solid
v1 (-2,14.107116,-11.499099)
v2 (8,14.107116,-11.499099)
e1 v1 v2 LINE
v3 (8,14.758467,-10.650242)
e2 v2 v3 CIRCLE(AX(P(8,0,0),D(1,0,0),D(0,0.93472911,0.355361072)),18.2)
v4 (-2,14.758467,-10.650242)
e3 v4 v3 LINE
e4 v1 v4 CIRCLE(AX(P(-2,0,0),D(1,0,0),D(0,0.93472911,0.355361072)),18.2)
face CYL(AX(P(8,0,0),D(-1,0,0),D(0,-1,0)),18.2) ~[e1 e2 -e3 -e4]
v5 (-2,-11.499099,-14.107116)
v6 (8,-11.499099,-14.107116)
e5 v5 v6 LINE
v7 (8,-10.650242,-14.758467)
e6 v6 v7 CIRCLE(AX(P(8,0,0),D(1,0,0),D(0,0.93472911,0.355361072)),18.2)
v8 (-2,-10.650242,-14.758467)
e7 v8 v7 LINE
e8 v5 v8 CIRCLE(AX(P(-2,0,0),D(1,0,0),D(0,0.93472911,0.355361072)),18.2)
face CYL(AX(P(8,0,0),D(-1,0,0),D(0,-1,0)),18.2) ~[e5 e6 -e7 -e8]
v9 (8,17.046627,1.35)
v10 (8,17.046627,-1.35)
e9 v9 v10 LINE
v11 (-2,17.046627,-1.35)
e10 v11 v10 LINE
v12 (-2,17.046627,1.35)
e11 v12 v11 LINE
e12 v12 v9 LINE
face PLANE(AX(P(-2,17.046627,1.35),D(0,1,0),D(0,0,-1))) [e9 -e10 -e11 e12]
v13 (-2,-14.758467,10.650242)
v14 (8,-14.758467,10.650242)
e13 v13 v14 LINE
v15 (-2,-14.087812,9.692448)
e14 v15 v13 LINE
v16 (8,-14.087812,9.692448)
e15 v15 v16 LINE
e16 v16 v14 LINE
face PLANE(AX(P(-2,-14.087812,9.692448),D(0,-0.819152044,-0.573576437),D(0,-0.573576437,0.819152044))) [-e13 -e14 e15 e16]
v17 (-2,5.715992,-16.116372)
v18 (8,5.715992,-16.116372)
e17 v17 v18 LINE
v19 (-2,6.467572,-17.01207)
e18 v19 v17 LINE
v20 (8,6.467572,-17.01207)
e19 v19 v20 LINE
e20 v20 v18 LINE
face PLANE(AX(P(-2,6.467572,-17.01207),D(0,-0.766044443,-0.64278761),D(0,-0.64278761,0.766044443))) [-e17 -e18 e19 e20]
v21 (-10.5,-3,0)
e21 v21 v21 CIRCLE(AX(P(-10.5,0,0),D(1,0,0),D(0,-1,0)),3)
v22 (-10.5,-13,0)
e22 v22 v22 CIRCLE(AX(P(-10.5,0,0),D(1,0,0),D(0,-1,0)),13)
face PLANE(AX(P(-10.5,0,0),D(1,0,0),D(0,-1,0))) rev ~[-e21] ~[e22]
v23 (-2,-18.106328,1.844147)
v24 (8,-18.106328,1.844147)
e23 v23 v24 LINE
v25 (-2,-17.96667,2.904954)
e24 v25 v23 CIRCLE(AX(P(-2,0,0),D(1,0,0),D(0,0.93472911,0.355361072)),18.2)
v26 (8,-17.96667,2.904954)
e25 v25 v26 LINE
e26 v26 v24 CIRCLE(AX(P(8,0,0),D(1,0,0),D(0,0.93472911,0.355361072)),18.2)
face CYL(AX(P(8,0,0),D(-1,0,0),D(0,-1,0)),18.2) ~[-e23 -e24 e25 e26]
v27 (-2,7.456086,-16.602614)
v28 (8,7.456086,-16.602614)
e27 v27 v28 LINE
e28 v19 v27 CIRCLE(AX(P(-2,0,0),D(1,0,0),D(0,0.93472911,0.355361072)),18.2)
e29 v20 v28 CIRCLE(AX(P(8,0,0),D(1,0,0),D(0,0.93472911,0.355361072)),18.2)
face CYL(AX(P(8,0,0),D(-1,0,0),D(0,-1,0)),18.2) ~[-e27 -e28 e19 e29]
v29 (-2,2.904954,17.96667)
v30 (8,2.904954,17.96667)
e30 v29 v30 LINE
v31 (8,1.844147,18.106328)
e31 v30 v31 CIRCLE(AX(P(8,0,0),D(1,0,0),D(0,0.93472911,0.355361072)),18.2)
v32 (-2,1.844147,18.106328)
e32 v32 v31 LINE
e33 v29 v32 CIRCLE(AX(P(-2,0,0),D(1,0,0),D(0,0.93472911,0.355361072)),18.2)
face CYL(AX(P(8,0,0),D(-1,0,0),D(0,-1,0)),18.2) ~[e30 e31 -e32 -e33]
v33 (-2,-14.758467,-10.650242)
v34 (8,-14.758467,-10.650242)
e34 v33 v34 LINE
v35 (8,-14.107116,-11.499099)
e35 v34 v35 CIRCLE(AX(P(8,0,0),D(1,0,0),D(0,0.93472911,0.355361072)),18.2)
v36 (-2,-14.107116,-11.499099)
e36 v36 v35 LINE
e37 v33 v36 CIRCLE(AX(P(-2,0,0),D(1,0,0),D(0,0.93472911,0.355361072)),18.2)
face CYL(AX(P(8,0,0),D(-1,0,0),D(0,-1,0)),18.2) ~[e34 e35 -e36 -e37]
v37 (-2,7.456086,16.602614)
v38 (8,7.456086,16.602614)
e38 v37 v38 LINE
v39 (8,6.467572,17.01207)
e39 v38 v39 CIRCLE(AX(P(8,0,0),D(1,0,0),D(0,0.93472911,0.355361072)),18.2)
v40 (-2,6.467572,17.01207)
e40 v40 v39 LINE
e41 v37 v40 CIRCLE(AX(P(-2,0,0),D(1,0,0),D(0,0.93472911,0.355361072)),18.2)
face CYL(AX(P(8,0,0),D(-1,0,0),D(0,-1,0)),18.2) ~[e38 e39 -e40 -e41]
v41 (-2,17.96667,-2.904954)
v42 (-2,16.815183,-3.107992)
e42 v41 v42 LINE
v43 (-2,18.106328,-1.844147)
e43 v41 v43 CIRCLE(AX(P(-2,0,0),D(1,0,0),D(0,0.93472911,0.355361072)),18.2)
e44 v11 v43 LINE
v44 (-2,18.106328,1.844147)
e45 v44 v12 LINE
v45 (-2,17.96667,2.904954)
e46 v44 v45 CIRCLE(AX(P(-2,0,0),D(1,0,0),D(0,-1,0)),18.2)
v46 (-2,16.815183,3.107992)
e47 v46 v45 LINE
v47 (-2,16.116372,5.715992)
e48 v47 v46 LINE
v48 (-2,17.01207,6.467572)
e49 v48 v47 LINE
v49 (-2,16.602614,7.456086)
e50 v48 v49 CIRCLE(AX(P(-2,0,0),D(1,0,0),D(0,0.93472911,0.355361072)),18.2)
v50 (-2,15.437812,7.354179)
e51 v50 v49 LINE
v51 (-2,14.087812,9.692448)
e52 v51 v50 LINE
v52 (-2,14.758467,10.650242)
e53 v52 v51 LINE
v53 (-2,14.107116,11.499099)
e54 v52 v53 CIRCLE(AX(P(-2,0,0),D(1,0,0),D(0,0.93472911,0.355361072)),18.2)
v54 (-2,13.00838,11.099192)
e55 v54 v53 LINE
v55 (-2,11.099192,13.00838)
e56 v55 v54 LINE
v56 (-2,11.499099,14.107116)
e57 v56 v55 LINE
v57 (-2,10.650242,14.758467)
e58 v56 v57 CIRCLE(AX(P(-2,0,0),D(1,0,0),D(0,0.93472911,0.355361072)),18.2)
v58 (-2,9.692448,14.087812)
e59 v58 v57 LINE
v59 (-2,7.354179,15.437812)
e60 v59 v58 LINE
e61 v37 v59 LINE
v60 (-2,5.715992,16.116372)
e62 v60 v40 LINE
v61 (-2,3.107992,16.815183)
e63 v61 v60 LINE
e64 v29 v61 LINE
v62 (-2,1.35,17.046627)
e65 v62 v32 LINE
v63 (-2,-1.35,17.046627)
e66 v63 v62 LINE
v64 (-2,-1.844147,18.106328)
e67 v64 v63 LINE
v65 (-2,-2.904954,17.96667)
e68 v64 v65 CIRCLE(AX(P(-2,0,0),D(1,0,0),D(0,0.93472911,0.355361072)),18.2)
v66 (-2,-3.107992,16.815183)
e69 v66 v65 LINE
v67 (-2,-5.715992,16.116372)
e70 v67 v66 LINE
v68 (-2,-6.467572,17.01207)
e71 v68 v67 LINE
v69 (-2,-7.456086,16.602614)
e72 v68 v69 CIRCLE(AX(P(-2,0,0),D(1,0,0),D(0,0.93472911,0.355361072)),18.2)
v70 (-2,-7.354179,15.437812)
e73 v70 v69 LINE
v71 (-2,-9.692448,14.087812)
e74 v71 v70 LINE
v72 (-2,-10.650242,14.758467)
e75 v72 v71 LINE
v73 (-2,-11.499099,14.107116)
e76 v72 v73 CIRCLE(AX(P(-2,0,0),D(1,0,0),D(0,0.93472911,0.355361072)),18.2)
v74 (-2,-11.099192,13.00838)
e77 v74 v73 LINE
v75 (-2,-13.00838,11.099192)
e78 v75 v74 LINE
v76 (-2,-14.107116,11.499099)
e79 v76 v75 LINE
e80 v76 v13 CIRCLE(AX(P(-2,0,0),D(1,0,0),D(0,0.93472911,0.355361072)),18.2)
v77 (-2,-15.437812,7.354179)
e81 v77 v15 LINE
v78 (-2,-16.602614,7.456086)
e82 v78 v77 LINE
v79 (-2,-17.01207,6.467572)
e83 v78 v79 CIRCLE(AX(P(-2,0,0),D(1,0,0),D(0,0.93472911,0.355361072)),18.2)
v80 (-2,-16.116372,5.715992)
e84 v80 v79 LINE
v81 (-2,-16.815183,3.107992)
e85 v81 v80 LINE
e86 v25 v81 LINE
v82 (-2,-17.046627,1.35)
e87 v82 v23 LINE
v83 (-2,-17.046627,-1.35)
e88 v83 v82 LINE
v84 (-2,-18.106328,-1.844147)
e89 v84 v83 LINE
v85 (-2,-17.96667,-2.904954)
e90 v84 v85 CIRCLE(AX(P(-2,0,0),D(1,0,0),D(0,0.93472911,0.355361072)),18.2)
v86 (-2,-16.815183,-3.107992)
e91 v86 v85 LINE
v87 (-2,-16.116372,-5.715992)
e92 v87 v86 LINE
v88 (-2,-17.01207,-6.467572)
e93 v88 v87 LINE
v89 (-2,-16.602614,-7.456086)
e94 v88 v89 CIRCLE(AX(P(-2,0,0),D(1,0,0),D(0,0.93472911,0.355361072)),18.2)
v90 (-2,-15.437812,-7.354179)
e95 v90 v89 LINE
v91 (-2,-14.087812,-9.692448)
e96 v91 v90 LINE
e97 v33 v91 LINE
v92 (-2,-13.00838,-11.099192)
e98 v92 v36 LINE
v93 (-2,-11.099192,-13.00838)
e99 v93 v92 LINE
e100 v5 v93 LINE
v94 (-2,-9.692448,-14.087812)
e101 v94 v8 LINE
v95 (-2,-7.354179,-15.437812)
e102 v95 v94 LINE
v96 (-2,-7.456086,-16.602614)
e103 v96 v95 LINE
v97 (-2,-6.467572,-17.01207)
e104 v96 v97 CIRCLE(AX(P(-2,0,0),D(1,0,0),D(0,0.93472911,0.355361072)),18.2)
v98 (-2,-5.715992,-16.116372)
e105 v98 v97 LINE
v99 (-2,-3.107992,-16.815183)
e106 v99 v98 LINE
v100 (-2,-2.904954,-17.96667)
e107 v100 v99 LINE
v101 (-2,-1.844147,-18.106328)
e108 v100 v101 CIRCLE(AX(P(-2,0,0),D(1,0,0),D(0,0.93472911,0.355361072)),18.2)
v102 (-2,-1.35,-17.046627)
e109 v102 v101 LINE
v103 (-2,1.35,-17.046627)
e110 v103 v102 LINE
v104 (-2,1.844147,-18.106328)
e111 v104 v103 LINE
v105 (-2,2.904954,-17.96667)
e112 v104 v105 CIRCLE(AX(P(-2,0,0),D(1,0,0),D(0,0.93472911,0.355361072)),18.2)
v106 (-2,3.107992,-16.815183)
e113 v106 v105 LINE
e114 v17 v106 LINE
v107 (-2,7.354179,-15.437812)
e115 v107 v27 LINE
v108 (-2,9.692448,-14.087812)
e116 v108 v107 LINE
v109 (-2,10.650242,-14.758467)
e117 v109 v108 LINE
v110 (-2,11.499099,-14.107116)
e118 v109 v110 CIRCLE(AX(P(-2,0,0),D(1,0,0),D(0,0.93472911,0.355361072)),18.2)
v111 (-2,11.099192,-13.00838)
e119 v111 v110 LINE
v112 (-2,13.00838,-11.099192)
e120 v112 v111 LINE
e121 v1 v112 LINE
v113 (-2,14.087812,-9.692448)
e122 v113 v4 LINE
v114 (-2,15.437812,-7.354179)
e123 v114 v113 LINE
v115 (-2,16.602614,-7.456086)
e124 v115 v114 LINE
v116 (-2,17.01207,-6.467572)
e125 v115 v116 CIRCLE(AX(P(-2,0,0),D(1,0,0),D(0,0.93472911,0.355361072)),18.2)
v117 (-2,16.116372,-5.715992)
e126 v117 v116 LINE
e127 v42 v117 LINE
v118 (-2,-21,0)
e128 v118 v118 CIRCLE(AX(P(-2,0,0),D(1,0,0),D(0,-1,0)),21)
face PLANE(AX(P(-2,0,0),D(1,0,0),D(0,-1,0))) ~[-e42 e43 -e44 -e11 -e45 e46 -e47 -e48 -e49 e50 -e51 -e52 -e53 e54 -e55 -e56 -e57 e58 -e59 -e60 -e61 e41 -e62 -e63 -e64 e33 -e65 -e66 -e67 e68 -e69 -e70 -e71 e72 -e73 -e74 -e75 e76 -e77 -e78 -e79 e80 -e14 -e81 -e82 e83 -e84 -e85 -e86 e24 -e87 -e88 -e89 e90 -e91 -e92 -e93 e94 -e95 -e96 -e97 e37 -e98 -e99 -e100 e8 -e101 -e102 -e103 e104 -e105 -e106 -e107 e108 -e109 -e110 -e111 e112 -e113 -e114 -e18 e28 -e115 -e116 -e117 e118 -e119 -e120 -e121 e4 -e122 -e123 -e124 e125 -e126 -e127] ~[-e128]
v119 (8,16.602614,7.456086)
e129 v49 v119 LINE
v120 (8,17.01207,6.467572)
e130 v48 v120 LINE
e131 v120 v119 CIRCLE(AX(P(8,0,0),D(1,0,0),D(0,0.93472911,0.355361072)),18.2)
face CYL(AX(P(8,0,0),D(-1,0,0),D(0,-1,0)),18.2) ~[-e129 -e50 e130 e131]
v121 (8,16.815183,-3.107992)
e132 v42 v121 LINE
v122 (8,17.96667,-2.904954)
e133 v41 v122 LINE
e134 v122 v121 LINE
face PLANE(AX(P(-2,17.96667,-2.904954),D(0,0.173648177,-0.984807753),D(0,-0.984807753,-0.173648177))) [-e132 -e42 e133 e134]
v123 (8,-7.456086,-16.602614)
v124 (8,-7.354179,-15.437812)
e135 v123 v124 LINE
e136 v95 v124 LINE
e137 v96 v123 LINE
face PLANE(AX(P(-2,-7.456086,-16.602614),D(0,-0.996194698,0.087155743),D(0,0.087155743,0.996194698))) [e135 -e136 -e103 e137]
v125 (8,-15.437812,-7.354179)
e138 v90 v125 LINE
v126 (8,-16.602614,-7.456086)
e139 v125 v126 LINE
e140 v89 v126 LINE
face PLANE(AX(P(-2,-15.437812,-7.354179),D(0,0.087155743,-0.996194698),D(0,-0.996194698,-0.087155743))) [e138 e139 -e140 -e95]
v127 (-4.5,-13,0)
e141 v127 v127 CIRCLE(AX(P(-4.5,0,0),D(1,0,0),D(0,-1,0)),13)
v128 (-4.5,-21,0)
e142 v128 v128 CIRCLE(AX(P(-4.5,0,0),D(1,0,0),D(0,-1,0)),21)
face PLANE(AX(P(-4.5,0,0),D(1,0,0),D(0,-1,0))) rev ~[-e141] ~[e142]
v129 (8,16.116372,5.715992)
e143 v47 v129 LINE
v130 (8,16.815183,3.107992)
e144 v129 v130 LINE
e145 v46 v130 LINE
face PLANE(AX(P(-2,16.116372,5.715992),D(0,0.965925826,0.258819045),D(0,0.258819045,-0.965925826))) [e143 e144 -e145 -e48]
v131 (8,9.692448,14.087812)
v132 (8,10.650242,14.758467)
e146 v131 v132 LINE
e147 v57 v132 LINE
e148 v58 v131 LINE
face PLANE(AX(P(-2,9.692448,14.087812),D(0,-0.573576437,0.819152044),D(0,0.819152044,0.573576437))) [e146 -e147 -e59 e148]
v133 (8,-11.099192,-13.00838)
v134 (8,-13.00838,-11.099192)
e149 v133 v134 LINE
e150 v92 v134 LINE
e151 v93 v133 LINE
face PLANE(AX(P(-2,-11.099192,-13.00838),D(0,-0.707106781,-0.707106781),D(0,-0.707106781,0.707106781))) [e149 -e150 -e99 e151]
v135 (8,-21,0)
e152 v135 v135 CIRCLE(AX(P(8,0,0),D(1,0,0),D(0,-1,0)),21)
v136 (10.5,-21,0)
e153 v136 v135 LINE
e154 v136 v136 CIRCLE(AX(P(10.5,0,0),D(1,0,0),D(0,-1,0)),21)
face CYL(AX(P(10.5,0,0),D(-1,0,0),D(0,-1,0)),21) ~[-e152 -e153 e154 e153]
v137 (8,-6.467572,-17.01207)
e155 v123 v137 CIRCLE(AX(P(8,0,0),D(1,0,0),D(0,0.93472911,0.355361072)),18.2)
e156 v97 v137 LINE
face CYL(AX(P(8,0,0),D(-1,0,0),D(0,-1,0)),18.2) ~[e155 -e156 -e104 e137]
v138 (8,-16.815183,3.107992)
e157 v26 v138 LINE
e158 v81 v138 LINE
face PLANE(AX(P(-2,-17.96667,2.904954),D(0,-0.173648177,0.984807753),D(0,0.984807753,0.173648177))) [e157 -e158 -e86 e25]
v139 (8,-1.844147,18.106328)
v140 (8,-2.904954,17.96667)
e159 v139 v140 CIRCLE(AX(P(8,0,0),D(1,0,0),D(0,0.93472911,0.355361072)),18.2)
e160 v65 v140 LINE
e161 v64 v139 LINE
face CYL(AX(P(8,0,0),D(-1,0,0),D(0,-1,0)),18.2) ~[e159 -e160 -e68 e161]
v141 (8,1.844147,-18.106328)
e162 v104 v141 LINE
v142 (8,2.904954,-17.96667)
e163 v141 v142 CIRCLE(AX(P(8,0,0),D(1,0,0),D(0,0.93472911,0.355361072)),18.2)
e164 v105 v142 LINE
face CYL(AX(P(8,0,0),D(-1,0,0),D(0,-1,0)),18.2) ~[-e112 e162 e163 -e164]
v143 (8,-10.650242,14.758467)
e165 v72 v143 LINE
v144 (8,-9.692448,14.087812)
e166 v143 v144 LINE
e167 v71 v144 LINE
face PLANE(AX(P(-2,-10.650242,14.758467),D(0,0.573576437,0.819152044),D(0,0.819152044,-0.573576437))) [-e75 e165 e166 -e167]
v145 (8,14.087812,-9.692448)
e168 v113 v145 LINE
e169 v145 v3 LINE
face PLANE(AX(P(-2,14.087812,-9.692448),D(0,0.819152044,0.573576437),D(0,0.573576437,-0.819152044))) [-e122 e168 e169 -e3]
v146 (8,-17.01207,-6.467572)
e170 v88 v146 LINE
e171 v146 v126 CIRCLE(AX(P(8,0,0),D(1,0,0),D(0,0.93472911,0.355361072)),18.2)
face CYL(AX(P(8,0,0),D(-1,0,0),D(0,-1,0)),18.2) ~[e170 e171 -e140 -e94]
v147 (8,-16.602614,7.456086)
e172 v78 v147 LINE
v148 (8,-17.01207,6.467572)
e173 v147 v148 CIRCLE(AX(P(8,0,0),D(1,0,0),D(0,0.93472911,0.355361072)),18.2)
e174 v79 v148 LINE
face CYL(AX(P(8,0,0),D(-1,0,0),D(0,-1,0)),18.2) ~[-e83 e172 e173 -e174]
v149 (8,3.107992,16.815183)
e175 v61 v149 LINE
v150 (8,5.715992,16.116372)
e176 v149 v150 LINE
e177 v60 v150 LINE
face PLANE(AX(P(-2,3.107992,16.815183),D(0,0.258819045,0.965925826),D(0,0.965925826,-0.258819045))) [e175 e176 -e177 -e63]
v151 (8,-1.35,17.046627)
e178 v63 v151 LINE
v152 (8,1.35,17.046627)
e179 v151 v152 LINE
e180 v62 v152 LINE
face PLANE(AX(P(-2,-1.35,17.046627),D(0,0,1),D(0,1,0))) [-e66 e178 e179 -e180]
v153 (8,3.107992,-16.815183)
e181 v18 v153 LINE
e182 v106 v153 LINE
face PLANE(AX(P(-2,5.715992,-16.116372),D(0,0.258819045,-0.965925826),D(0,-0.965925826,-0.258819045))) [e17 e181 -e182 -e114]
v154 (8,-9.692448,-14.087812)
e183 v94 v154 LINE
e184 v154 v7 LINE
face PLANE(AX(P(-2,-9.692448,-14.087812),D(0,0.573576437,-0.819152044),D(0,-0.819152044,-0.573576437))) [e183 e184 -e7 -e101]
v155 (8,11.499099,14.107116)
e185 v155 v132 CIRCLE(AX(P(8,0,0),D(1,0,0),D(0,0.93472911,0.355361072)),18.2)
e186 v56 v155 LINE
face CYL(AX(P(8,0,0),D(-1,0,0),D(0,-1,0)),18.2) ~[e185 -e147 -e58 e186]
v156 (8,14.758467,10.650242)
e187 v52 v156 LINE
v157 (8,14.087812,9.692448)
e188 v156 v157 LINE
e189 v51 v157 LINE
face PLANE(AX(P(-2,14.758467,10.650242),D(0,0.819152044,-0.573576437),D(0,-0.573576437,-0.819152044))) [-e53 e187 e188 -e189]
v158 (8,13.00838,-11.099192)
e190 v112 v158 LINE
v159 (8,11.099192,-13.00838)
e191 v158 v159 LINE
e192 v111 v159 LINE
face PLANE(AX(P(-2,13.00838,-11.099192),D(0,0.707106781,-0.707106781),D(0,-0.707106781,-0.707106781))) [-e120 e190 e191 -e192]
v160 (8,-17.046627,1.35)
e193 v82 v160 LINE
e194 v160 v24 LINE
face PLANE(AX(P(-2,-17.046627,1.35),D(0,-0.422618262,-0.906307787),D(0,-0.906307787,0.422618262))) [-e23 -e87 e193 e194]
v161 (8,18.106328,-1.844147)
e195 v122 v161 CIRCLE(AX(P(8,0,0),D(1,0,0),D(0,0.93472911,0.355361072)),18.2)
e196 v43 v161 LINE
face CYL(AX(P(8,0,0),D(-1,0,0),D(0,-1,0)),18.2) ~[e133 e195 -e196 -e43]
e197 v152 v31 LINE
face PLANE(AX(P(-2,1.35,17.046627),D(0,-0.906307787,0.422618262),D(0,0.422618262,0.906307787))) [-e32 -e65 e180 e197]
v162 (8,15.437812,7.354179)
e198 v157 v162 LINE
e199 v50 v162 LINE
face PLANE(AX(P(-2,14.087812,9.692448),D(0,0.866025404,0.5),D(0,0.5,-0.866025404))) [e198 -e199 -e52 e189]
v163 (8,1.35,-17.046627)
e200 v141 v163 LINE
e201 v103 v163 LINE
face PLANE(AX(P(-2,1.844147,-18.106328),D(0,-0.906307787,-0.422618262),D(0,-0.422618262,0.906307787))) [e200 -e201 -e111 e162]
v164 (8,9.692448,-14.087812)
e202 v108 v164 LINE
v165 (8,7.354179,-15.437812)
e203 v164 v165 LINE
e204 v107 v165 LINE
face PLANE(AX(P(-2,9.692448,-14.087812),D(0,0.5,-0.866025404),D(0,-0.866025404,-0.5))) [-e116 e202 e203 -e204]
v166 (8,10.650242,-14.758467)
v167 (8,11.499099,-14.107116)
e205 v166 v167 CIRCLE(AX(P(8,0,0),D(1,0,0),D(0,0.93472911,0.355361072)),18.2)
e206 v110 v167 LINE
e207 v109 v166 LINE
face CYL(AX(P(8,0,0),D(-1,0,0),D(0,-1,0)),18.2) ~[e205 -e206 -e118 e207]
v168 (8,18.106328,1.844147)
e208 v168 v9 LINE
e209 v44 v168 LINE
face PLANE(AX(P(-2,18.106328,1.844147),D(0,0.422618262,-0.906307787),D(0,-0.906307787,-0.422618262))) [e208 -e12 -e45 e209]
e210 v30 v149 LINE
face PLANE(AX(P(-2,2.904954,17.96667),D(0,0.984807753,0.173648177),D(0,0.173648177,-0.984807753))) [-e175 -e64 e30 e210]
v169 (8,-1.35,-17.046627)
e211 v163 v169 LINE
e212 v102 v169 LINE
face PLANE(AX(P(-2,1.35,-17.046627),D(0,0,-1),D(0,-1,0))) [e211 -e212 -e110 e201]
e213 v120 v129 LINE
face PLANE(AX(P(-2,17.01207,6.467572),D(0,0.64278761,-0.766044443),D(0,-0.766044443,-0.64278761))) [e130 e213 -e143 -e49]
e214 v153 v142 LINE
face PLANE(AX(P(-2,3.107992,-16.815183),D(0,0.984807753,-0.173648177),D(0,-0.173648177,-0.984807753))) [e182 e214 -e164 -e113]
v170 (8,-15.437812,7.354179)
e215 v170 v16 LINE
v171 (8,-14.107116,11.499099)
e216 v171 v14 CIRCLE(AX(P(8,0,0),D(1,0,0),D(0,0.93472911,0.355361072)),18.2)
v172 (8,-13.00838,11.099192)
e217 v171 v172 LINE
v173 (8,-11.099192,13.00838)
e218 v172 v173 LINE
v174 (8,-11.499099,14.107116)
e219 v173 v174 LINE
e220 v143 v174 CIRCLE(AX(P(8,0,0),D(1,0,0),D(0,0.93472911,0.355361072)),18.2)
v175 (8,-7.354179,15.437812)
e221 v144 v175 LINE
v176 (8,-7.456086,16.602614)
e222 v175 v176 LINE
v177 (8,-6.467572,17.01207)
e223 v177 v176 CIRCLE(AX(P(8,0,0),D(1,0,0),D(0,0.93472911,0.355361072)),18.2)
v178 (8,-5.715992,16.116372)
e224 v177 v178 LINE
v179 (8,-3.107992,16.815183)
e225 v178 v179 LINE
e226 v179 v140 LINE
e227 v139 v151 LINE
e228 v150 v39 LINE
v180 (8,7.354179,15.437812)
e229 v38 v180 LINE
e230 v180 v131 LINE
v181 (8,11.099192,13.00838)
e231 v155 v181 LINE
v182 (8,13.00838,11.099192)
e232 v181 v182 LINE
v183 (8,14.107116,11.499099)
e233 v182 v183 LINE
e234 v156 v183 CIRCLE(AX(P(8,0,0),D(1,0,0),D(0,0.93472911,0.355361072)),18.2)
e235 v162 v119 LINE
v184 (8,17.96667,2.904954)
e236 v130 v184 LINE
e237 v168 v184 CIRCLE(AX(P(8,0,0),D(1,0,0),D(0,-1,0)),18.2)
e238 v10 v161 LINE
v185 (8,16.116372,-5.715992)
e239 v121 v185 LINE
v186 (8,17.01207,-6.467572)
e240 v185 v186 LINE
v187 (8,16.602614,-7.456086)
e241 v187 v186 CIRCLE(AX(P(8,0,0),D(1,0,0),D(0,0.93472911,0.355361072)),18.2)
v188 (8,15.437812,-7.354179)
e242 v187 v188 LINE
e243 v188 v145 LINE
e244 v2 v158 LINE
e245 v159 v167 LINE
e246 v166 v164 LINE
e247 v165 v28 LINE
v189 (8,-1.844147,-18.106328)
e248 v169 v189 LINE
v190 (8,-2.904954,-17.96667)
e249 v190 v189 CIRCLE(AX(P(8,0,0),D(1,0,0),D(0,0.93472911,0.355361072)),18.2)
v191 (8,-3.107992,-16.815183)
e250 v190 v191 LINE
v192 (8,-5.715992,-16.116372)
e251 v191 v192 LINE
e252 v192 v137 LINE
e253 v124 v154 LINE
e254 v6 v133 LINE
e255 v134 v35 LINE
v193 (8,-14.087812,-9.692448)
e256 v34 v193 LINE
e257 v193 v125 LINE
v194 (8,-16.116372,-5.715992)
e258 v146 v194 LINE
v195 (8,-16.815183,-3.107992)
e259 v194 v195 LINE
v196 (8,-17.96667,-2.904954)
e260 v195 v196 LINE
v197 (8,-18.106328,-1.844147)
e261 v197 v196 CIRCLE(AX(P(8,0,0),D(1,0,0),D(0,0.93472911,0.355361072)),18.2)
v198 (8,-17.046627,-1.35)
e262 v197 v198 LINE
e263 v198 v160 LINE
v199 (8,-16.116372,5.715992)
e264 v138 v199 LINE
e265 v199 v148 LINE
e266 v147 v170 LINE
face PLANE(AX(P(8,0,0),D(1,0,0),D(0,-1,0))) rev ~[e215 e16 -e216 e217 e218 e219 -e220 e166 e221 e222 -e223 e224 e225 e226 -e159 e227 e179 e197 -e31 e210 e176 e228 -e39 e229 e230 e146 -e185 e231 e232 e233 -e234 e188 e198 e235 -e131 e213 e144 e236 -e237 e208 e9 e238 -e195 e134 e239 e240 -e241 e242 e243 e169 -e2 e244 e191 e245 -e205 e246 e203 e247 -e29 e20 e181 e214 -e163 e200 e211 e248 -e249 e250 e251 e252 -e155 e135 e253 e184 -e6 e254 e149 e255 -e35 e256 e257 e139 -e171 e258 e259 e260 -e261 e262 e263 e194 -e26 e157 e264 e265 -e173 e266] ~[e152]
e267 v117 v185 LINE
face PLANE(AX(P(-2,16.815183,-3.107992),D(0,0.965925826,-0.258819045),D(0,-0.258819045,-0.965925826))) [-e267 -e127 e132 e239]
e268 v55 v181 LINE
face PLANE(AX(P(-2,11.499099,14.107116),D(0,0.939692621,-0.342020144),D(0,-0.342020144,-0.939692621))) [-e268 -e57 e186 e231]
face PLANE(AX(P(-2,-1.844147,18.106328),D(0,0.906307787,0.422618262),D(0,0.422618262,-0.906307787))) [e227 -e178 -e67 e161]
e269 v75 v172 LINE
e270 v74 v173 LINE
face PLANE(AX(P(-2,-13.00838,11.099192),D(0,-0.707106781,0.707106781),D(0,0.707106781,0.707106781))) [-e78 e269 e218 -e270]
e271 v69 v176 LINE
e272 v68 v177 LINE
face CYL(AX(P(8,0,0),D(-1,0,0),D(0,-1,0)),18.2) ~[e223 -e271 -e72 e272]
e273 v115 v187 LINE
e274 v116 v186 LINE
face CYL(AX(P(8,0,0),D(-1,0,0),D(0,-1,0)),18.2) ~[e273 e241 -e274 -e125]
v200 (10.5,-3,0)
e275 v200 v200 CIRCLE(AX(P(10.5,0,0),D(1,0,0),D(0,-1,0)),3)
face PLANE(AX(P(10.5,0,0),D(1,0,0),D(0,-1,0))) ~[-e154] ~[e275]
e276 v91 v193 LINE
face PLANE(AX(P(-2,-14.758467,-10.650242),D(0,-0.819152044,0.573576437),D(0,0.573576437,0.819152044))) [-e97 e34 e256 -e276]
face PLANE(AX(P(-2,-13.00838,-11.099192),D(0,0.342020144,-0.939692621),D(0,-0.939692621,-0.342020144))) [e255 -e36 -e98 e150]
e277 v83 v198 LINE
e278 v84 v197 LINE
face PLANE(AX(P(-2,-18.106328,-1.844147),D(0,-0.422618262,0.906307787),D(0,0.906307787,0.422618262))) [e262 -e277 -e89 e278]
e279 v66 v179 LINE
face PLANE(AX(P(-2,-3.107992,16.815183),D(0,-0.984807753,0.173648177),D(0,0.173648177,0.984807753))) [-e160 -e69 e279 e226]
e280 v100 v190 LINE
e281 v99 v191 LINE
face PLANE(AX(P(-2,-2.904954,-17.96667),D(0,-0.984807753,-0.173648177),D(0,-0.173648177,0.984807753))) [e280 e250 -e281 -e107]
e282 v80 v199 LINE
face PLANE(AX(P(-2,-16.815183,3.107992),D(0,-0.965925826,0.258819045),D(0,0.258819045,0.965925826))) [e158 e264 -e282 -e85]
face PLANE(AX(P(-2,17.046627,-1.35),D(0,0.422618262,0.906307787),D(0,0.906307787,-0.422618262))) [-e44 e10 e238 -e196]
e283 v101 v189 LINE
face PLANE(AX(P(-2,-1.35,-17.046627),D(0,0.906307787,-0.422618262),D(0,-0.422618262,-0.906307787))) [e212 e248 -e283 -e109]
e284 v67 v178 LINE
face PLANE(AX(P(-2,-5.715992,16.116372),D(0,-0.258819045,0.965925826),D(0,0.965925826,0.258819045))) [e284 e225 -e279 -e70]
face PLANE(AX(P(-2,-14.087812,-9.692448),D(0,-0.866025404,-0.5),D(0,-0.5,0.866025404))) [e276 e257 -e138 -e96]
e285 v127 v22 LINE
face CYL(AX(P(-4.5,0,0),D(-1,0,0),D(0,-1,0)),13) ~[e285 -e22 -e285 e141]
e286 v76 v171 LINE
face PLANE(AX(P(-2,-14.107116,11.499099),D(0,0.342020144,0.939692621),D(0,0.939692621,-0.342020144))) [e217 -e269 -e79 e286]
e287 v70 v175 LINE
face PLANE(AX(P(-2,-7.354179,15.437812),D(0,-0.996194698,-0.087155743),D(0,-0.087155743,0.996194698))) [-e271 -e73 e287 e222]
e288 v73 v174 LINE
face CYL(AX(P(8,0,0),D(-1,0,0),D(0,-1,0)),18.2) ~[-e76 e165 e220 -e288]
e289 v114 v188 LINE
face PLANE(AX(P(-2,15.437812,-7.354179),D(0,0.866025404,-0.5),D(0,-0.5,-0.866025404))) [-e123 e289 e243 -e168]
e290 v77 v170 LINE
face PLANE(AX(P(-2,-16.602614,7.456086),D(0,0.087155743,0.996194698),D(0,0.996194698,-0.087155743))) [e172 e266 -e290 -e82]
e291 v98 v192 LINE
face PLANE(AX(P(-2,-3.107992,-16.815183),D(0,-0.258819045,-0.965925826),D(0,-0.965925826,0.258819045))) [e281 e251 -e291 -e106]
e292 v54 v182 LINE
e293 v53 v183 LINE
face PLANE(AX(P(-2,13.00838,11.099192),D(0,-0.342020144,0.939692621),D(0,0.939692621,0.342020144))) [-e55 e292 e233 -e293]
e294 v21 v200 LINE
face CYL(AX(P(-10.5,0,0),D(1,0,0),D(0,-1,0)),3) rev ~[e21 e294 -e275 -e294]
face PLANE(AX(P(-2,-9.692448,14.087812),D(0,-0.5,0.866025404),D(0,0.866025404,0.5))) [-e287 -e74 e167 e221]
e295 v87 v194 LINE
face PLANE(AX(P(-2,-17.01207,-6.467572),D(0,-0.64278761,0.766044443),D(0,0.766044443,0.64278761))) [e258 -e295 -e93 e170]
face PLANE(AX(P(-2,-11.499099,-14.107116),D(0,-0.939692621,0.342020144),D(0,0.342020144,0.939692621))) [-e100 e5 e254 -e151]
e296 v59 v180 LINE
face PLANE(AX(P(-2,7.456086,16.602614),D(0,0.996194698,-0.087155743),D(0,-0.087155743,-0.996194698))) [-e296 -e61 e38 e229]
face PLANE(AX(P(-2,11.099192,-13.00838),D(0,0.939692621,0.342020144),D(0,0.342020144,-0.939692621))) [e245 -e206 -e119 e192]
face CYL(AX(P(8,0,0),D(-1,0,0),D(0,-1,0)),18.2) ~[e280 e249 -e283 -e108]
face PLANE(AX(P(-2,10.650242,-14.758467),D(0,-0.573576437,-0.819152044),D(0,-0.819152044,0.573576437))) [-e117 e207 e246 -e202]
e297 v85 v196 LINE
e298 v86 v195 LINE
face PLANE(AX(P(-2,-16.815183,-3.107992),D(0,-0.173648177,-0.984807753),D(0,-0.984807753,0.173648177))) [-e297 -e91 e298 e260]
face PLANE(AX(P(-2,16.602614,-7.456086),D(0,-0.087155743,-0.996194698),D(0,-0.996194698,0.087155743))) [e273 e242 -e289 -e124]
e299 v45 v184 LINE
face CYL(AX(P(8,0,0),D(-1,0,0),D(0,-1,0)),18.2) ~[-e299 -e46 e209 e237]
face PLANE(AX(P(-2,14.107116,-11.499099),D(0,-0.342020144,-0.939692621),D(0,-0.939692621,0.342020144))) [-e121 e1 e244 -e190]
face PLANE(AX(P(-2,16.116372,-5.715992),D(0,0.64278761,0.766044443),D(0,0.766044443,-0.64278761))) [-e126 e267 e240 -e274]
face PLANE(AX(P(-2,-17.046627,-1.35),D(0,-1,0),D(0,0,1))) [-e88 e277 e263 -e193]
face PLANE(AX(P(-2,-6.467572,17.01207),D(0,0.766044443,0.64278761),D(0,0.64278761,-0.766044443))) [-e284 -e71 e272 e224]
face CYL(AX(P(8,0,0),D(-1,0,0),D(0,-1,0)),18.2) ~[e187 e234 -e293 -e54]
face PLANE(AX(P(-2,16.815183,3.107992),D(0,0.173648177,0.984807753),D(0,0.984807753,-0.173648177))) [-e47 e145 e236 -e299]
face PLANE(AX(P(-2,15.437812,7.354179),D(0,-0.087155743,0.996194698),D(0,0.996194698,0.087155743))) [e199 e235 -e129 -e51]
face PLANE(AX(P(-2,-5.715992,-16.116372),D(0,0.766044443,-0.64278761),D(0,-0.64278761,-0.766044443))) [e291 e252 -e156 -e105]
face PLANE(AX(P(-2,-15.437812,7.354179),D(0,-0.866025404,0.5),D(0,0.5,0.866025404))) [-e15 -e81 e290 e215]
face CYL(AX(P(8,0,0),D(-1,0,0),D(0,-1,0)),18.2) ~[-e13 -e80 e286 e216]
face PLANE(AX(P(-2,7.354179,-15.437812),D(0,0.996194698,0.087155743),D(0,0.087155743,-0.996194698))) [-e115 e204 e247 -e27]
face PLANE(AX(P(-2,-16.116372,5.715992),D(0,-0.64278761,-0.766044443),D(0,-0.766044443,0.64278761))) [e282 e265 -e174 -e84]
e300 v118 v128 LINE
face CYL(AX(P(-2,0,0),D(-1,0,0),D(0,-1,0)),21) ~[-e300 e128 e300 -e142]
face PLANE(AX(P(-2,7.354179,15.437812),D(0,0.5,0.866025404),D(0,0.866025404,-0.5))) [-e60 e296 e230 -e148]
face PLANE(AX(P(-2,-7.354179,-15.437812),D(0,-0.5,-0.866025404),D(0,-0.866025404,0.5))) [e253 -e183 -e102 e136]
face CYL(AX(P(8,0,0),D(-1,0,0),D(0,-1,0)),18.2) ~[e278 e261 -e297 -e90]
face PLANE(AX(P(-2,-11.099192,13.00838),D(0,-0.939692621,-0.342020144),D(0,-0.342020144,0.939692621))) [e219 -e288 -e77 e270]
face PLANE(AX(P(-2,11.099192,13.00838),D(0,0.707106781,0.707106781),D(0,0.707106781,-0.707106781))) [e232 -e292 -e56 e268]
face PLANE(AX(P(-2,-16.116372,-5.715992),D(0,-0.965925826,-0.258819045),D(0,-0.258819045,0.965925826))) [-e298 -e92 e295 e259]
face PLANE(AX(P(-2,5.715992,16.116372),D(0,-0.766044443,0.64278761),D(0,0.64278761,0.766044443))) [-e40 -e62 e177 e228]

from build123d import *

# Parameters (mm, degrees)
CUT_EXTRUDE1_DEPTH = 10
CIRPATTERN1_COUNT  = 24


with BuildPart() as part:
    # Sketch1 → Revolve1 (revolve)
    with BuildSketch(Plane.XY, mode=Mode.PRIVATE) as revolve1_sk:
        Polygon((-10.5, 3), (10.5, 3), (10.5, 21), (8, 21), (8, 18.45), (8, 18.2), (-2, 18.2), (-2, 18.45), (-2, 21), (-4.5, 21), (-4.5, 13), (-10.5, 13), align=None)
    revolve(revolve1_sk.sketch.rotate(Axis((-10.5, 0, 0), (1, 0, 0)), 180), axis=Axis((-10.5, 0, 0), (1, 0, 0)))

    # Sketch3 → Cut-Extrude1 (cut)
    with BuildSketch(Plane(origin=(-2, 0, 0), x_dir=(0, 0, -1), z_dir=(1, 0, 0))):
        with BuildLine():
            Line((-1.844146703, 18.106328257), (-1.35, 17.046627232))
            Line((-1.35, 17.046627232), (1.35, 17.046627232))
            Line((1.35, 17.046627232), (1.844146703, 18.106328257))
            ThreePointArc((1.844146703, 18.106328257), (0, 18.2), (-1.844146703, 18.106328257))
        make_face()
    cut_extrude1 = extrude(amount=CUT_EXTRUDE1_DEPTH, mode=Mode.SUBTRACT)

    # CirPattern1: Cut-Extrude1 ×24 about axis
    cirpattern1_axis = Axis((0, 0, 0), (1, 0, 0))
    for i in range(1, CIRPATTERN1_COUNT):
        add(cut_extrude1.rotate(cirpattern1_axis, i * 360 / CIRPATTERN1_COUNT), mode=Mode.SUBTRACT)


solid = part.part
